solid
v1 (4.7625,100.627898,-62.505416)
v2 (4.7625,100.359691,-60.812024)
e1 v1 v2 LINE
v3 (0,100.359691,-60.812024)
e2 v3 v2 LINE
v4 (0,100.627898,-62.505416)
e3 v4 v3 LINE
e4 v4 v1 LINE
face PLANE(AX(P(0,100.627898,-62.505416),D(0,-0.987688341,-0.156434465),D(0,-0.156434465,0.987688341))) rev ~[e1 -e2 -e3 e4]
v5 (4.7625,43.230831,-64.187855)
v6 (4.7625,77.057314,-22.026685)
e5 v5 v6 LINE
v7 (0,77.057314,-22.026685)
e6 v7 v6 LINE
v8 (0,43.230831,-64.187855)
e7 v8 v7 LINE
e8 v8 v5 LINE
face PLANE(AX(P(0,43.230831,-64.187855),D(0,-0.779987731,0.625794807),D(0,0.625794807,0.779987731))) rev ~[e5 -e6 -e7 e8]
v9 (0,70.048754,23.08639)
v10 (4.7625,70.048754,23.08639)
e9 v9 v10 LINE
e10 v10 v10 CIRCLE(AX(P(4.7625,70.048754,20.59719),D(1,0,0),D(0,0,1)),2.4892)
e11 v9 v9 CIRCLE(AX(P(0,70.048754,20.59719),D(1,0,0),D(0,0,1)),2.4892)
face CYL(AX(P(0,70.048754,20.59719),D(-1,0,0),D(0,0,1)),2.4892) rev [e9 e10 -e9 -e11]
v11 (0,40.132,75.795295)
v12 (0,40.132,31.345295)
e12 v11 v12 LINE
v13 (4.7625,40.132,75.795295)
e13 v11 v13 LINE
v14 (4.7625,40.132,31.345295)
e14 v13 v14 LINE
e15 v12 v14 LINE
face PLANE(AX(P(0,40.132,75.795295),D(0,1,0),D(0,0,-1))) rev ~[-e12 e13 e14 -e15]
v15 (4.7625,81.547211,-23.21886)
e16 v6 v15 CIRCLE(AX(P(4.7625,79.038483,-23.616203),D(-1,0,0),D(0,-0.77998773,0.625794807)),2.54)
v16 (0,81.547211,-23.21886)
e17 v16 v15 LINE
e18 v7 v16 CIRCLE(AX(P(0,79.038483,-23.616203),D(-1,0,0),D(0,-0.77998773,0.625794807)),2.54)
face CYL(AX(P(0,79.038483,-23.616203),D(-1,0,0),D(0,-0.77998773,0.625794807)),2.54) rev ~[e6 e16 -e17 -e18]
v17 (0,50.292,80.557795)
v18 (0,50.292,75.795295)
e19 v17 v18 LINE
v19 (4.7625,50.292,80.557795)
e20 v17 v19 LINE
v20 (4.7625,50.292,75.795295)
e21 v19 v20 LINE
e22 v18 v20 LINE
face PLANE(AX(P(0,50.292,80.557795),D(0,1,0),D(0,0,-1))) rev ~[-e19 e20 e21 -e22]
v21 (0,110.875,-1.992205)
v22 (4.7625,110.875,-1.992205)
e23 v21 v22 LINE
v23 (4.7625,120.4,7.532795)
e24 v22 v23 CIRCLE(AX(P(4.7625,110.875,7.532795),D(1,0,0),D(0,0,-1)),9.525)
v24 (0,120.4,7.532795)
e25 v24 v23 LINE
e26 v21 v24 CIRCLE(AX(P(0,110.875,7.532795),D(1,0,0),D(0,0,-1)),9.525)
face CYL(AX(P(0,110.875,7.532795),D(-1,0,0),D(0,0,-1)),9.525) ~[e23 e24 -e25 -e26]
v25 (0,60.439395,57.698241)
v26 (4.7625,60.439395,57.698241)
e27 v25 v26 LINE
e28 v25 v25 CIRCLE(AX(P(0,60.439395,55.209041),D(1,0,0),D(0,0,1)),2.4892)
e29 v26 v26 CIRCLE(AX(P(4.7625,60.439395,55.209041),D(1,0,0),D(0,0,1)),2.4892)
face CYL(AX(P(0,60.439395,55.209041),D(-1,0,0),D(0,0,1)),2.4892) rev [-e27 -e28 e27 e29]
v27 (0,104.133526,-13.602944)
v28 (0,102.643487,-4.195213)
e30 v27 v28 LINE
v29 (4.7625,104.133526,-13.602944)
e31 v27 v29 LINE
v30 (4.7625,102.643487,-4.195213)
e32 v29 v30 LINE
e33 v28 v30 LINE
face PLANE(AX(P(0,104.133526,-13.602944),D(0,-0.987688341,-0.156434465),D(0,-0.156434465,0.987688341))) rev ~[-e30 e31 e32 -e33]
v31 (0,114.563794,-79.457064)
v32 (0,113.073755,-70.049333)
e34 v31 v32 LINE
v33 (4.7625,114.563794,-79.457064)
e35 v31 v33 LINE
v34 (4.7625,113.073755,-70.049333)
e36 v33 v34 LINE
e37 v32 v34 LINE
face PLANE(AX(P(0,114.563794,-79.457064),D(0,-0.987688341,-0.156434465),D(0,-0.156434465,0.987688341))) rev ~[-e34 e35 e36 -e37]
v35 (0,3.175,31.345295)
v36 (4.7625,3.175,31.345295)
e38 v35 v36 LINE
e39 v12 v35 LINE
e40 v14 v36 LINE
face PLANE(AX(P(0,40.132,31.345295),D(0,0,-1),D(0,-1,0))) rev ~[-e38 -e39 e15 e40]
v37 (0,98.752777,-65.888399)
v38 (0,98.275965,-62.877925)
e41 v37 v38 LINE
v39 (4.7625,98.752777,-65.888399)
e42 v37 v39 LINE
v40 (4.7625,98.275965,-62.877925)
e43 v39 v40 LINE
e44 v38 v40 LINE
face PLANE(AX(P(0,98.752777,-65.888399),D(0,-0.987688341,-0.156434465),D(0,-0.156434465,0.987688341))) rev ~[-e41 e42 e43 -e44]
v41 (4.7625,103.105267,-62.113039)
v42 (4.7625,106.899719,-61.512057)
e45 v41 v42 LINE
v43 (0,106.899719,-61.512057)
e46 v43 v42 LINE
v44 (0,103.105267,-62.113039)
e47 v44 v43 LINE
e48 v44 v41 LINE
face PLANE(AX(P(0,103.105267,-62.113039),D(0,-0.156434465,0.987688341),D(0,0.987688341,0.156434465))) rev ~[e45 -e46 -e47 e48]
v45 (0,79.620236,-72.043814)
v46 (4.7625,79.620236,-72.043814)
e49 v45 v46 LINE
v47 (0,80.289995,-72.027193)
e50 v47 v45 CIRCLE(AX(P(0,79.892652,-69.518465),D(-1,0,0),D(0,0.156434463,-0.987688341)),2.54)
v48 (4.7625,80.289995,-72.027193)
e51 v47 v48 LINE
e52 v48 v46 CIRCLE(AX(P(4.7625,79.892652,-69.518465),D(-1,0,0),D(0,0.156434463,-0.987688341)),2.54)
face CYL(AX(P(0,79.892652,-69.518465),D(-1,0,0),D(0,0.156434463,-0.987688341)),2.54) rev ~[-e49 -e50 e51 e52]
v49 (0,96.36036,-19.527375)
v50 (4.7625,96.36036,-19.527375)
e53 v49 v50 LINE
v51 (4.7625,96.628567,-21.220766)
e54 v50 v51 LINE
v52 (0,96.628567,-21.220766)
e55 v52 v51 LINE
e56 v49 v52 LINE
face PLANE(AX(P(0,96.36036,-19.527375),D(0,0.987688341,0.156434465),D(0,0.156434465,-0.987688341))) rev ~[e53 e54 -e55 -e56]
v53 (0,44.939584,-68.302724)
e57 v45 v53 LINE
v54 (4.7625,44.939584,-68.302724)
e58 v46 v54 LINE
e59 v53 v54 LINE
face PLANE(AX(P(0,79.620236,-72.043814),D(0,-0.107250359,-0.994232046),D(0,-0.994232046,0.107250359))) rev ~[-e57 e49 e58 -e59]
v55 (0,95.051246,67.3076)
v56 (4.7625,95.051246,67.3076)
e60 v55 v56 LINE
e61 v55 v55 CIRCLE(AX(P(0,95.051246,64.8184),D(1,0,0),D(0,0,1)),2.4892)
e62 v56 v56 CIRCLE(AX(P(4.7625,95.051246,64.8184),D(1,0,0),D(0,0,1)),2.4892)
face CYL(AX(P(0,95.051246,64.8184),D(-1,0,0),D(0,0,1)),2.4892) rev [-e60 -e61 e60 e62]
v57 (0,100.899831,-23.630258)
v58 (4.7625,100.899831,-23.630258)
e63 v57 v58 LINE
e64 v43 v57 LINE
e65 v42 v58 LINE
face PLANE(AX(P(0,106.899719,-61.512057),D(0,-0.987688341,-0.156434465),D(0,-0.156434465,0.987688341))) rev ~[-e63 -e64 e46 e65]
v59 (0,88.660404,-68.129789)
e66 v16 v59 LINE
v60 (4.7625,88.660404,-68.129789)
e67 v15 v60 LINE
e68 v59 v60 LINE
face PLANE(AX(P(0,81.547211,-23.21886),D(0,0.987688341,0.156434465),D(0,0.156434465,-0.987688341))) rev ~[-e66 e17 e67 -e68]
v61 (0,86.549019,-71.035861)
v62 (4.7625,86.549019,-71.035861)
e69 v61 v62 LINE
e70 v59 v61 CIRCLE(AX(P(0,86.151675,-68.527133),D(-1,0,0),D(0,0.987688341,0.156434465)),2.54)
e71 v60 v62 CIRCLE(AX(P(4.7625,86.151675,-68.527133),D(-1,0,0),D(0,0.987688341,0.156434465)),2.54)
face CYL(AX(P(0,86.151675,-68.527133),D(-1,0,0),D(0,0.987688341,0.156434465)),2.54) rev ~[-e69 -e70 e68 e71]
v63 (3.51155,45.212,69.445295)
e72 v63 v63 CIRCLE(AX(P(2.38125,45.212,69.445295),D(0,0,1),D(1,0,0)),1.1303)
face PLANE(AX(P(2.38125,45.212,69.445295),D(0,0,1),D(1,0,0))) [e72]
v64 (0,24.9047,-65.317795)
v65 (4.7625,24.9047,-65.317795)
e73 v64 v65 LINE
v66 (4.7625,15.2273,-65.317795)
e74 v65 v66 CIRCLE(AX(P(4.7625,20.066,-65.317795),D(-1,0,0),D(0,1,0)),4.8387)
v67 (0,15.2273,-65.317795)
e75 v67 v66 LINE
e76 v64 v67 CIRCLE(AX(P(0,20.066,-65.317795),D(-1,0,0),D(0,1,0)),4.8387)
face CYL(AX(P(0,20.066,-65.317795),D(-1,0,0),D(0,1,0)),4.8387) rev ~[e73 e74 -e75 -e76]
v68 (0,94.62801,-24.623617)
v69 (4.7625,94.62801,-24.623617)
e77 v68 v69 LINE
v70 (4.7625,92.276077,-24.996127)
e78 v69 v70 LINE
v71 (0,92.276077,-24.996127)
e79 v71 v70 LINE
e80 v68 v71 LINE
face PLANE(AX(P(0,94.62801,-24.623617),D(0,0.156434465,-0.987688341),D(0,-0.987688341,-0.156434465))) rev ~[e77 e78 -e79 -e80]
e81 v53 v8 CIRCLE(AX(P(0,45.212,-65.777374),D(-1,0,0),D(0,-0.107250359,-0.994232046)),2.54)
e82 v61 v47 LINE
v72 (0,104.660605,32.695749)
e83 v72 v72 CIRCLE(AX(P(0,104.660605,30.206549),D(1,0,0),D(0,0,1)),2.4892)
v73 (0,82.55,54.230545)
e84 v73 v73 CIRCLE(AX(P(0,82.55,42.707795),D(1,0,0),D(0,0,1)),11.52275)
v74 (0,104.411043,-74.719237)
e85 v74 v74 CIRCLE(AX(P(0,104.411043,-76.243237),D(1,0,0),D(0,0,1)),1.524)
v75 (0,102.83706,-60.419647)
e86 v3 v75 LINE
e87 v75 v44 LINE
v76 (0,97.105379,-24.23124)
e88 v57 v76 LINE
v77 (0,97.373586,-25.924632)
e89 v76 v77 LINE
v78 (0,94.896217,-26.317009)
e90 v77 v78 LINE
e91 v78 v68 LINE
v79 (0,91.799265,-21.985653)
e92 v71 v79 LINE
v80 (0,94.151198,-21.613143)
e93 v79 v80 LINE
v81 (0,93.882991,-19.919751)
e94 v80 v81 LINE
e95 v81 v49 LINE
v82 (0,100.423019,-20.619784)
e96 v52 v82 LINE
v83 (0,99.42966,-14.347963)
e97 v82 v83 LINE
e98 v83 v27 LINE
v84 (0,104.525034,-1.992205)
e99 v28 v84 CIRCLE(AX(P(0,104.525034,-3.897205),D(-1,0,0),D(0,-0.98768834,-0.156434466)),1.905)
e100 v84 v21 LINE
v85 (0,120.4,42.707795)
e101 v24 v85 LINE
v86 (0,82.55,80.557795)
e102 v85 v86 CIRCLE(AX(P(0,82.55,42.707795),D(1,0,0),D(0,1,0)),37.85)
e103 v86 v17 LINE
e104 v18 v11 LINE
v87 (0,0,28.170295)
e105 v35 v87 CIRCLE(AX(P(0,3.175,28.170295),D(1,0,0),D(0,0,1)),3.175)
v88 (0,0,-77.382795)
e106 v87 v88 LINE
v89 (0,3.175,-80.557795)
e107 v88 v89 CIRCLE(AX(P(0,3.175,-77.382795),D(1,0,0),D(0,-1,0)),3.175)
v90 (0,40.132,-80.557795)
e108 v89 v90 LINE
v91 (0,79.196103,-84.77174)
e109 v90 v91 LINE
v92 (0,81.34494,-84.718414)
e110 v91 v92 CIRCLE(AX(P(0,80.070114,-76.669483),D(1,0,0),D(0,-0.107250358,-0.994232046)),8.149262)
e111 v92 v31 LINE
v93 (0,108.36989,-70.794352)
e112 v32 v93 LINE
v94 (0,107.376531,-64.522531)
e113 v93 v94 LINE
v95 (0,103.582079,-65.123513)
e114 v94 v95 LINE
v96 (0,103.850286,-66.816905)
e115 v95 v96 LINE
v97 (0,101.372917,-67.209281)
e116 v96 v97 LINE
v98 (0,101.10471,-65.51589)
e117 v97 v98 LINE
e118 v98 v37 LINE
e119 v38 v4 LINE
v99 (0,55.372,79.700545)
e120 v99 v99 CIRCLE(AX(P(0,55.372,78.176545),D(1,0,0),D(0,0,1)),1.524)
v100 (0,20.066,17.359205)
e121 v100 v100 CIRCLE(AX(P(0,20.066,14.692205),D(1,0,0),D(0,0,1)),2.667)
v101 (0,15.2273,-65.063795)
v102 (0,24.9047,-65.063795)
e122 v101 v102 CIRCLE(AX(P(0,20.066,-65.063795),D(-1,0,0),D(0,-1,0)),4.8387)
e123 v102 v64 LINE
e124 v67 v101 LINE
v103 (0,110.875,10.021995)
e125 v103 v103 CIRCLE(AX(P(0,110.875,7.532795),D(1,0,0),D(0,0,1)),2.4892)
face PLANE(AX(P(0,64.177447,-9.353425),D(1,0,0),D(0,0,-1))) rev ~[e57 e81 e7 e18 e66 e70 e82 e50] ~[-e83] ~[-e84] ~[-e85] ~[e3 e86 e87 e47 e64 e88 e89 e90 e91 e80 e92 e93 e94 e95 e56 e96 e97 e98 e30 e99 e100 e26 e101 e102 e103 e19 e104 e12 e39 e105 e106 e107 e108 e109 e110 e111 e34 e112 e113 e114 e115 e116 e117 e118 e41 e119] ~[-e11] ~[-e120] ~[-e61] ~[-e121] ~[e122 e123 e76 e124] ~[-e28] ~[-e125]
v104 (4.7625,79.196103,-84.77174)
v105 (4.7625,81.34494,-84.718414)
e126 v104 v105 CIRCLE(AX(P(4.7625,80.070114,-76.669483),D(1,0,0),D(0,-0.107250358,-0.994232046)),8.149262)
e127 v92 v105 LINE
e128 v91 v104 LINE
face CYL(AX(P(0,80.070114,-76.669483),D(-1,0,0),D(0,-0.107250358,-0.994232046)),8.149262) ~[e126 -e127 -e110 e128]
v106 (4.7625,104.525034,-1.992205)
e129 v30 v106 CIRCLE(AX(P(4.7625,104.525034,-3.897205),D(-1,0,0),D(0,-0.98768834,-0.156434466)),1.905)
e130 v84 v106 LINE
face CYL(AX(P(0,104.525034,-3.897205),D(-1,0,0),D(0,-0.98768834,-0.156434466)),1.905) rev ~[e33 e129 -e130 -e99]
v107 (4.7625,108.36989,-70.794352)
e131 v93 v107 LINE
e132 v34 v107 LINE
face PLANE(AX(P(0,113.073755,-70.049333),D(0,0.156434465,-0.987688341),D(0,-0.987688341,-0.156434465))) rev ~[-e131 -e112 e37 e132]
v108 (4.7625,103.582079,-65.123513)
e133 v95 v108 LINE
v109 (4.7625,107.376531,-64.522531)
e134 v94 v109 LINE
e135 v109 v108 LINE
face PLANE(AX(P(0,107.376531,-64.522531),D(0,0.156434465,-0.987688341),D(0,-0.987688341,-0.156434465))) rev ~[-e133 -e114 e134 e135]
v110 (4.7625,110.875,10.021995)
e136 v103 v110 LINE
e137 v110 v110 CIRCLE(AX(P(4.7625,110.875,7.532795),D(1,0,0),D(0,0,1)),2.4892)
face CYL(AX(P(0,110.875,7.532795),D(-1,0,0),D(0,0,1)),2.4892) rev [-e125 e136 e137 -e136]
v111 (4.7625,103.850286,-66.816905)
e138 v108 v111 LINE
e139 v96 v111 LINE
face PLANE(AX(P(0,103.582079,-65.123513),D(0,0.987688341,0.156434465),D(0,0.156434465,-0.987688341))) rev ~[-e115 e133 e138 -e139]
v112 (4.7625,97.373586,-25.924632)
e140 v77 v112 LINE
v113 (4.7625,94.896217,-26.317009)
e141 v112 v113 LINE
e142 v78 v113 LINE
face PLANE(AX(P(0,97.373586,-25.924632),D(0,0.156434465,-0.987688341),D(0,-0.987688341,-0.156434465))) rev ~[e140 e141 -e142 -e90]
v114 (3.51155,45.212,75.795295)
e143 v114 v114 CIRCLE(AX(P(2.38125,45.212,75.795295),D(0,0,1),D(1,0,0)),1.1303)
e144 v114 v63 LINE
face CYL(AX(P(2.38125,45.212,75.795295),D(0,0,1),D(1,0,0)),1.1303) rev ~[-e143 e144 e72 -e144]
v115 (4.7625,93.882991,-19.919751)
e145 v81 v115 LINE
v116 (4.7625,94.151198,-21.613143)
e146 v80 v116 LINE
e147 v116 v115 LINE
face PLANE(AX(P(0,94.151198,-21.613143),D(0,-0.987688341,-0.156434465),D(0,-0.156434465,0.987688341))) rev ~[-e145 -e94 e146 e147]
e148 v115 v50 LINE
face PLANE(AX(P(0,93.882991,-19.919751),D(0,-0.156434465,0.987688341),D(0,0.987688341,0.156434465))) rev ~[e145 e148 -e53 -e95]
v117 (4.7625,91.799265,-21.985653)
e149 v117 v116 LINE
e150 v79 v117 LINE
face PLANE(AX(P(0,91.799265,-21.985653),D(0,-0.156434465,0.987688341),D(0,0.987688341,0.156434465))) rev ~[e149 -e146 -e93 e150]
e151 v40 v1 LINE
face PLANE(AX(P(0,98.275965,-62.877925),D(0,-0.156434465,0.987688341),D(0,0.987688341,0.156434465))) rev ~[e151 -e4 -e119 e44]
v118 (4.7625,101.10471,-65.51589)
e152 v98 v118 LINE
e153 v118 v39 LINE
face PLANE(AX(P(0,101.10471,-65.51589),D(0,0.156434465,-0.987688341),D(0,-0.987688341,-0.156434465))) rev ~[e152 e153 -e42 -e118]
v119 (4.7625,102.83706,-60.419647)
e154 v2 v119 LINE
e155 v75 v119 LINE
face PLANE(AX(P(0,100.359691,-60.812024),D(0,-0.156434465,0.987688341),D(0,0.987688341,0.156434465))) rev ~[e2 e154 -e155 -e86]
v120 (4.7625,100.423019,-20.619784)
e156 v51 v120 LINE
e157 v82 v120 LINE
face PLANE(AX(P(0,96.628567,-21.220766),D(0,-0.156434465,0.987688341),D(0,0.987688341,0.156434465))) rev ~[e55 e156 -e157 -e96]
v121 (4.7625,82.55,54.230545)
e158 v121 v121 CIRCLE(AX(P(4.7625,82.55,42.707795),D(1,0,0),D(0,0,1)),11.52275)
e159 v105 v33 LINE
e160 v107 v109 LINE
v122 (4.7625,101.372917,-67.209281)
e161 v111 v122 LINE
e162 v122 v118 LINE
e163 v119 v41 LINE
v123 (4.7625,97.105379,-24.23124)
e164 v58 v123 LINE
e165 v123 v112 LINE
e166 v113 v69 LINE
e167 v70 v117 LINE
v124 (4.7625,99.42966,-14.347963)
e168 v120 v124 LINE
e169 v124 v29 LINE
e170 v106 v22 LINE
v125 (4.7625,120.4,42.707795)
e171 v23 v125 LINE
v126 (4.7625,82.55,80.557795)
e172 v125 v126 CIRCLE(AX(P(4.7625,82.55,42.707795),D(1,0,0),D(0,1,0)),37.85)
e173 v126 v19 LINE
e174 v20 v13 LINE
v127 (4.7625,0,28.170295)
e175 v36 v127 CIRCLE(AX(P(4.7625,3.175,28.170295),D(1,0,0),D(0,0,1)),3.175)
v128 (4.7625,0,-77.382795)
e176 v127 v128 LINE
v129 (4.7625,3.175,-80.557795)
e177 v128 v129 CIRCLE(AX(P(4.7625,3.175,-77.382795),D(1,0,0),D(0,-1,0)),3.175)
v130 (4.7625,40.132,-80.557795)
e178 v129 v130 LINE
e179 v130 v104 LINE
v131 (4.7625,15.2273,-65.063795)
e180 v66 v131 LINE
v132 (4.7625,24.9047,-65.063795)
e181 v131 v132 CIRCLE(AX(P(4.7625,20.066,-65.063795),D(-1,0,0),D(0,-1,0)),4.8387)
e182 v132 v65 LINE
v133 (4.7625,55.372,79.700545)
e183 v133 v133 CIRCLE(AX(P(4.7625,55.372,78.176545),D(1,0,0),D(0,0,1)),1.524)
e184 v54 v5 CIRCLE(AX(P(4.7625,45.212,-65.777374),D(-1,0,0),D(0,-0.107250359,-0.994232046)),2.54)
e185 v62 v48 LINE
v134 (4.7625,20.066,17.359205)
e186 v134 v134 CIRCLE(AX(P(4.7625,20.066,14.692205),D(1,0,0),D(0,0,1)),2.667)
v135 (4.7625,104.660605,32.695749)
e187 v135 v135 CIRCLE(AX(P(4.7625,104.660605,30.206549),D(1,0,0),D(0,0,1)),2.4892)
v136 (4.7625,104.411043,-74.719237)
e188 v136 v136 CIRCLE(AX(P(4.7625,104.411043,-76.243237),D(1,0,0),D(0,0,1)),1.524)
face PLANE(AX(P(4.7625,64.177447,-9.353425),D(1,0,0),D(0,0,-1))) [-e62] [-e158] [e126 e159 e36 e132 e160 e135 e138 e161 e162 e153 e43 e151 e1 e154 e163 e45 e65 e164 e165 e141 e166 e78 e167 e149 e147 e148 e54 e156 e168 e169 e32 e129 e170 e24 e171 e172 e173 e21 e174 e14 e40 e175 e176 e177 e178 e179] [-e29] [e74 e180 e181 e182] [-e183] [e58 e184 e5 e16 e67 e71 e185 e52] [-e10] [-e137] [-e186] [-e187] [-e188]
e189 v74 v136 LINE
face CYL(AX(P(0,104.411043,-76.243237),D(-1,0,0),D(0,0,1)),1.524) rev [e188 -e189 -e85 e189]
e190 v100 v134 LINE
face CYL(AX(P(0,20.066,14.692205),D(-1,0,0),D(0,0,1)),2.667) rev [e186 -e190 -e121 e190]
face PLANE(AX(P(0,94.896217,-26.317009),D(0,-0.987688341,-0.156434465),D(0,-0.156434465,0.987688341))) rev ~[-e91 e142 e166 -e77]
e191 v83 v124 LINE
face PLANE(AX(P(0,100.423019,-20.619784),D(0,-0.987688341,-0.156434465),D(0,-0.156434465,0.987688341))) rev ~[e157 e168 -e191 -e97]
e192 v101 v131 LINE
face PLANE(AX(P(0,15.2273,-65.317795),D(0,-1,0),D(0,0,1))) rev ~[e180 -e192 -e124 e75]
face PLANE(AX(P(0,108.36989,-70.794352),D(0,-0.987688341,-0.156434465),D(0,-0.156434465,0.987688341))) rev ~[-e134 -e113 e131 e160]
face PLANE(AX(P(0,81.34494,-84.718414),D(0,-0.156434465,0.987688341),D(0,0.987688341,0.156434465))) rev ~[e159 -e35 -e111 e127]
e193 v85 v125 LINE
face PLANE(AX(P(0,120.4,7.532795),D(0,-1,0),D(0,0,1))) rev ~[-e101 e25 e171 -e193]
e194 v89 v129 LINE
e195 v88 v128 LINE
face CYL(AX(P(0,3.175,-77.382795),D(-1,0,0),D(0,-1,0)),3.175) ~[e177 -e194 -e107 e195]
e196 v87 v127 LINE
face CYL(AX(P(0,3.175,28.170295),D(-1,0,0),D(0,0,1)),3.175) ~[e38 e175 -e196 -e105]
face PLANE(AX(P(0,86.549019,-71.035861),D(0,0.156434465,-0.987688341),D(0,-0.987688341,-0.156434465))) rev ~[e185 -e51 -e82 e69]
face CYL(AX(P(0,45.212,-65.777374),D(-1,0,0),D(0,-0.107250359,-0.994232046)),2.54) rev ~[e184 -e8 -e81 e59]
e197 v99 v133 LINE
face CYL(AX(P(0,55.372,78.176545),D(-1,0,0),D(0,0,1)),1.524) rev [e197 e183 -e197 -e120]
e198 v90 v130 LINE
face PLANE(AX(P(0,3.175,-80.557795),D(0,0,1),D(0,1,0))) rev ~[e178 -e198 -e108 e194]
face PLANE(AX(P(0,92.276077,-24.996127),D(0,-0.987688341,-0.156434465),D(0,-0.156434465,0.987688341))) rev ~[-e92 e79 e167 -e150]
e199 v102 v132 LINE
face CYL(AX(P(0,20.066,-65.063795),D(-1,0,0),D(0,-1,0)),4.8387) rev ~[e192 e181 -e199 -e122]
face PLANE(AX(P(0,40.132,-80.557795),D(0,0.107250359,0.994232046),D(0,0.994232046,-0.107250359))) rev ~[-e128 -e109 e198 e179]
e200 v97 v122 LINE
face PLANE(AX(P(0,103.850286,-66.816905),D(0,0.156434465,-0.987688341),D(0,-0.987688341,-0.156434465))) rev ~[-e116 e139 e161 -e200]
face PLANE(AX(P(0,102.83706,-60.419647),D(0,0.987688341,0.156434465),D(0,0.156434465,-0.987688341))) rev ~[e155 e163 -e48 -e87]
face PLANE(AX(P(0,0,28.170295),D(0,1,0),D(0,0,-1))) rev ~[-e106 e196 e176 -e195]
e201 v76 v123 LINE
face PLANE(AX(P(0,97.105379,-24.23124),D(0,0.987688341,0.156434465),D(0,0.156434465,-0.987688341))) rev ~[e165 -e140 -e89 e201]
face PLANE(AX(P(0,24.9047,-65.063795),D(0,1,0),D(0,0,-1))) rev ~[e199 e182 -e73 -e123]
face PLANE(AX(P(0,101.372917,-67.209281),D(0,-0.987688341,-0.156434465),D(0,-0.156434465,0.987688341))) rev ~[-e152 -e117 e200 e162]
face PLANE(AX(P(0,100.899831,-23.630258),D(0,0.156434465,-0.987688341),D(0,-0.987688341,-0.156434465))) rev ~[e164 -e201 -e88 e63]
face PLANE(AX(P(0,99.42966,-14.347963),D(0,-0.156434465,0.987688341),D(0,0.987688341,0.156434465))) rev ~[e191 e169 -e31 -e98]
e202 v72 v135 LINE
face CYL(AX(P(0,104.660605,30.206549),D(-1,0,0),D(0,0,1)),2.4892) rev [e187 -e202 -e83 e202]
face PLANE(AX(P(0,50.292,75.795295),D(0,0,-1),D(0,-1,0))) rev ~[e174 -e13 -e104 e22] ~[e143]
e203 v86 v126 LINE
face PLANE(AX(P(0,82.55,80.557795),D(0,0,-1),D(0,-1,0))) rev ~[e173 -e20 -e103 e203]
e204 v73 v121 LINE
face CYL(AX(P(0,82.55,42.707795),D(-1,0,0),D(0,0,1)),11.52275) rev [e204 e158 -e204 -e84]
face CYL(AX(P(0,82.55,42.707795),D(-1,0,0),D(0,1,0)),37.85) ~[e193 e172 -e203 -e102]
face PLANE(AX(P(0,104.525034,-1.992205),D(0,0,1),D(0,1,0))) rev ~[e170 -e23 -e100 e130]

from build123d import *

# Parameters (mm, degrees)
SKETCH1_R           = 2.4892
SKETCH1_R_2         = 2.667
SKETCH1_R_3         = 1.524
SKETCH1_R_4         = 11.522750336
BOSS_EXTRUDE1_DEPTH = 4.7625
SKETCH2_R           = 1.1303
CUT_EXTRUDE1_DEPTH  = 6.35


with BuildPart() as part:
    # Sketch1 → Boss-Extrude1 (new body)
    with BuildSketch(Plane(origin=(0, 0, 0), x_dir=(0, 0, -1), z_dir=(1, 0, 0))):
        with BuildLine():
            Line((-28.170295117, 0), (77.382795117, 0))
            ThreePointArc((77.382795117, 0), (79.627859148, 0.92993597), (80.557795117, 3.175))
            Line((80.557795117, 3.175), (80.557795117, 40.132))
            Line((80.557795117, 40.132), (84.771740045, 79.196103092))
            ThreePointArc((84.771740045, 79.196103092), (84.816236398, 80.272287311), (84.718413682, 81.344939685))
            Line((84.718413682, 81.344939685), (79.457064092, 114.563793628))
            Line((79.457064092, 114.563793628), (70.049332648, 113.073755348))
            Line((70.049332648, 113.073755348), (70.794351787, 108.369889626))
            Line((70.794351787, 108.369889626), (64.522530825, 107.376530773))
            Line((64.522530825, 107.376530773), (65.123512931, 103.582079091))
            Line((65.123512931, 103.582079091), (66.816904591, 103.850285981))
            Line((66.816904591, 103.850285981), (67.209281338, 101.372916701))
            Line((67.209281338, 101.372916701), (65.515889678, 101.10470981))
            Line((65.515889678, 101.10470981), (65.888399247, 98.752776949))
            Line((65.888399247, 98.752776949), (62.877925185, 98.2759647))
            Line((62.877925185, 98.2759647), (62.505415615, 100.627897561))
            Line((62.505415615, 100.627897561), (60.812023956, 100.359690671))
            Line((60.812023956, 100.359690671), (60.419647209, 102.837059951))
            Line((60.419647209, 102.837059951), (62.113038869, 103.105266841))
            Line((62.113038869, 103.105266841), (61.512056762, 106.899718524))
            Line((61.512056762, 106.899718524), (23.630258147, 100.899831052))
            Line((23.630258147, 100.899831052), (24.231240253, 97.105379369))
            Line((24.231240253, 97.105379369), (25.924631913, 97.373586259))
            Line((25.924631913, 97.373586259), (26.31700866, 94.896216979))
            Line((26.31700866, 94.896216979), (24.623617, 94.628010089))
            Line((24.623617, 94.628010089), (24.99612657, 92.276077228))
            Line((24.99612657, 92.276077228), (21.985652508, 91.799264978))
            Line((21.985652508, 91.799264978), (21.613142938, 94.151197839))
            Line((21.613142938, 94.151197839), (19.919751278, 93.882990949))
            Line((19.919751278, 93.882990949), (19.527374531, 96.360360229))
            Line((19.527374531, 96.360360229), (21.220766191, 96.62856712))
            Line((21.220766191, 96.62856712), (20.619784085, 100.423018802))
            Line((20.619784085, 100.423018802), (14.347963122, 99.429659949))
            Line((14.347963122, 99.429659949), (13.602943983, 104.133525671))
            Line((13.602943983, 104.133525671), (4.195212538, 102.643487392))
            ThreePointArc((4.195212538, 102.643487392), (2.66000635, 103.076460316), (1.992204883, 104.52503368))
            Line((1.992204883, 104.52503368), (1.992204883, 110.875))
            ThreePointArc((1.992204883, 110.875), (-0.797603027, 117.610192091), (-7.532795117, 120.4))
            Line((-7.532795117, 120.4), (-42.707795117, 120.4))
            ThreePointArc((-42.707795117, 120.4), (-69.471786785, 109.313991668), (-80.557795117, 82.55))
            Line((-80.557795117, 82.55), (-80.557795117, 50.292))
            Line((-80.557795117, 50.292), (-75.795295117, 50.292))
            Line((-75.795295117, 50.292), (-75.795295117, 40.132))
            Line((-75.795295117, 40.132), (-31.345295117, 40.132))
            Line((-31.345295117, 40.132), (-31.345295117, 3.175))
            ThreePointArc((-31.345295117, 3.175), (-30.415359148, 0.92993597), (-28.170295117, 0))
        make_face()
        with Locations(Location((-55.209041359, 60.43939525, 0), (0, 0, 180))):
            Circle(SKETCH1_R, mode=Mode.SUBTRACT)
        with Locations(Location((-14.692204883, 20.066, 0), (0, 0, 180))):
            Circle(SKETCH1_R_2, mode=Mode.SUBTRACT)
        with Locations(Location((-20.597190367, 70.048753759, 0), (0, 0, 180))):
            Circle(SKETCH1_R, mode=Mode.SUBTRACT)
        with Locations(Location((-64.818399868, 95.051246241, 0), (0, 0, 180))):
            Circle(SKETCH1_R, mode=Mode.SUBTRACT)
        with Locations(Location((-30.206548876, 104.66060475, 0), (0, 0, 180))):
            Circle(SKETCH1_R, mode=Mode.SUBTRACT)
        with Locations(Location((-78.176545117, 55.372, 0), (0, 0, 180))):
            Circle(SKETCH1_R_3, mode=Mode.SUBTRACT)
        with Locations(Location((-42.707795117, 82.55, 0), (0, 0, 180))):
            Circle(SKETCH1_R_4, mode=Mode.SUBTRACT)
        with Locations(Location((-7.532795117, 110.875, 0), (0, 0, 180))):
            Circle(SKETCH1_R, mode=Mode.SUBTRACT)
        with Locations(Location((76.243236649, 104.411043044, 0), (0, 0, 180))):
            Circle(SKETCH1_R_3, mode=Mode.SUBTRACT)
        with BuildLine():
            Line((65.317795117, 15.2273), (65.063795117, 15.2273))
            ThreePointArc((65.063795117, 15.2273), (60.225095117, 20.066), (65.063795117, 24.9047))
            Line((65.063795117, 24.9047), (65.317795117, 24.9047))
            ThreePointArc((65.317795117, 24.9047), (70.156495117, 20.066), (65.317795117, 15.2273))
        make_face(mode=Mode.SUBTRACT)
        with BuildLine():
            Line((71.035861406, 86.549018926), (72.027193342, 80.289995416))
            ThreePointArc((72.027193342, 80.289995416), (72.057683184, 79.9556661), (72.043814352, 79.620235963))
            Line((72.043814352, 79.620235963), (68.302723543, 44.939584088))
            ThreePointArc((68.302723543, 44.939584088), (66.751491112, 42.866217372), (64.187855338, 43.230831164))
            Line((64.187855338, 43.230831164), (22.026684653, 77.057314107))
            ThreePointArc((22.026684653, 77.057314107), (21.161269703, 79.690326664), (23.218859921, 81.547211328))
            Line((23.218859921, 81.547211328), (68.12978948, 88.66040377))
            ThreePointArc((68.12978948, 88.66040377), (70.020107562, 88.206578551), (71.035861406, 86.549018926))
        make_face(mode=Mode.SUBTRACT)
    extrude(amount=BOSS_EXTRUDE1_DEPTH)

    # Sketch2 → Cut-Extrude1 (cut)
    with BuildSketch(Plane.XY.offset(75.795295117)):
        with Locations((2.38125, 45.212)):
            Circle(SKETCH2_R)
    extrude(amount=-CUT_EXTRUDE1_DEPTH, mode=Mode.SUBTRACT)


solid = part.part
